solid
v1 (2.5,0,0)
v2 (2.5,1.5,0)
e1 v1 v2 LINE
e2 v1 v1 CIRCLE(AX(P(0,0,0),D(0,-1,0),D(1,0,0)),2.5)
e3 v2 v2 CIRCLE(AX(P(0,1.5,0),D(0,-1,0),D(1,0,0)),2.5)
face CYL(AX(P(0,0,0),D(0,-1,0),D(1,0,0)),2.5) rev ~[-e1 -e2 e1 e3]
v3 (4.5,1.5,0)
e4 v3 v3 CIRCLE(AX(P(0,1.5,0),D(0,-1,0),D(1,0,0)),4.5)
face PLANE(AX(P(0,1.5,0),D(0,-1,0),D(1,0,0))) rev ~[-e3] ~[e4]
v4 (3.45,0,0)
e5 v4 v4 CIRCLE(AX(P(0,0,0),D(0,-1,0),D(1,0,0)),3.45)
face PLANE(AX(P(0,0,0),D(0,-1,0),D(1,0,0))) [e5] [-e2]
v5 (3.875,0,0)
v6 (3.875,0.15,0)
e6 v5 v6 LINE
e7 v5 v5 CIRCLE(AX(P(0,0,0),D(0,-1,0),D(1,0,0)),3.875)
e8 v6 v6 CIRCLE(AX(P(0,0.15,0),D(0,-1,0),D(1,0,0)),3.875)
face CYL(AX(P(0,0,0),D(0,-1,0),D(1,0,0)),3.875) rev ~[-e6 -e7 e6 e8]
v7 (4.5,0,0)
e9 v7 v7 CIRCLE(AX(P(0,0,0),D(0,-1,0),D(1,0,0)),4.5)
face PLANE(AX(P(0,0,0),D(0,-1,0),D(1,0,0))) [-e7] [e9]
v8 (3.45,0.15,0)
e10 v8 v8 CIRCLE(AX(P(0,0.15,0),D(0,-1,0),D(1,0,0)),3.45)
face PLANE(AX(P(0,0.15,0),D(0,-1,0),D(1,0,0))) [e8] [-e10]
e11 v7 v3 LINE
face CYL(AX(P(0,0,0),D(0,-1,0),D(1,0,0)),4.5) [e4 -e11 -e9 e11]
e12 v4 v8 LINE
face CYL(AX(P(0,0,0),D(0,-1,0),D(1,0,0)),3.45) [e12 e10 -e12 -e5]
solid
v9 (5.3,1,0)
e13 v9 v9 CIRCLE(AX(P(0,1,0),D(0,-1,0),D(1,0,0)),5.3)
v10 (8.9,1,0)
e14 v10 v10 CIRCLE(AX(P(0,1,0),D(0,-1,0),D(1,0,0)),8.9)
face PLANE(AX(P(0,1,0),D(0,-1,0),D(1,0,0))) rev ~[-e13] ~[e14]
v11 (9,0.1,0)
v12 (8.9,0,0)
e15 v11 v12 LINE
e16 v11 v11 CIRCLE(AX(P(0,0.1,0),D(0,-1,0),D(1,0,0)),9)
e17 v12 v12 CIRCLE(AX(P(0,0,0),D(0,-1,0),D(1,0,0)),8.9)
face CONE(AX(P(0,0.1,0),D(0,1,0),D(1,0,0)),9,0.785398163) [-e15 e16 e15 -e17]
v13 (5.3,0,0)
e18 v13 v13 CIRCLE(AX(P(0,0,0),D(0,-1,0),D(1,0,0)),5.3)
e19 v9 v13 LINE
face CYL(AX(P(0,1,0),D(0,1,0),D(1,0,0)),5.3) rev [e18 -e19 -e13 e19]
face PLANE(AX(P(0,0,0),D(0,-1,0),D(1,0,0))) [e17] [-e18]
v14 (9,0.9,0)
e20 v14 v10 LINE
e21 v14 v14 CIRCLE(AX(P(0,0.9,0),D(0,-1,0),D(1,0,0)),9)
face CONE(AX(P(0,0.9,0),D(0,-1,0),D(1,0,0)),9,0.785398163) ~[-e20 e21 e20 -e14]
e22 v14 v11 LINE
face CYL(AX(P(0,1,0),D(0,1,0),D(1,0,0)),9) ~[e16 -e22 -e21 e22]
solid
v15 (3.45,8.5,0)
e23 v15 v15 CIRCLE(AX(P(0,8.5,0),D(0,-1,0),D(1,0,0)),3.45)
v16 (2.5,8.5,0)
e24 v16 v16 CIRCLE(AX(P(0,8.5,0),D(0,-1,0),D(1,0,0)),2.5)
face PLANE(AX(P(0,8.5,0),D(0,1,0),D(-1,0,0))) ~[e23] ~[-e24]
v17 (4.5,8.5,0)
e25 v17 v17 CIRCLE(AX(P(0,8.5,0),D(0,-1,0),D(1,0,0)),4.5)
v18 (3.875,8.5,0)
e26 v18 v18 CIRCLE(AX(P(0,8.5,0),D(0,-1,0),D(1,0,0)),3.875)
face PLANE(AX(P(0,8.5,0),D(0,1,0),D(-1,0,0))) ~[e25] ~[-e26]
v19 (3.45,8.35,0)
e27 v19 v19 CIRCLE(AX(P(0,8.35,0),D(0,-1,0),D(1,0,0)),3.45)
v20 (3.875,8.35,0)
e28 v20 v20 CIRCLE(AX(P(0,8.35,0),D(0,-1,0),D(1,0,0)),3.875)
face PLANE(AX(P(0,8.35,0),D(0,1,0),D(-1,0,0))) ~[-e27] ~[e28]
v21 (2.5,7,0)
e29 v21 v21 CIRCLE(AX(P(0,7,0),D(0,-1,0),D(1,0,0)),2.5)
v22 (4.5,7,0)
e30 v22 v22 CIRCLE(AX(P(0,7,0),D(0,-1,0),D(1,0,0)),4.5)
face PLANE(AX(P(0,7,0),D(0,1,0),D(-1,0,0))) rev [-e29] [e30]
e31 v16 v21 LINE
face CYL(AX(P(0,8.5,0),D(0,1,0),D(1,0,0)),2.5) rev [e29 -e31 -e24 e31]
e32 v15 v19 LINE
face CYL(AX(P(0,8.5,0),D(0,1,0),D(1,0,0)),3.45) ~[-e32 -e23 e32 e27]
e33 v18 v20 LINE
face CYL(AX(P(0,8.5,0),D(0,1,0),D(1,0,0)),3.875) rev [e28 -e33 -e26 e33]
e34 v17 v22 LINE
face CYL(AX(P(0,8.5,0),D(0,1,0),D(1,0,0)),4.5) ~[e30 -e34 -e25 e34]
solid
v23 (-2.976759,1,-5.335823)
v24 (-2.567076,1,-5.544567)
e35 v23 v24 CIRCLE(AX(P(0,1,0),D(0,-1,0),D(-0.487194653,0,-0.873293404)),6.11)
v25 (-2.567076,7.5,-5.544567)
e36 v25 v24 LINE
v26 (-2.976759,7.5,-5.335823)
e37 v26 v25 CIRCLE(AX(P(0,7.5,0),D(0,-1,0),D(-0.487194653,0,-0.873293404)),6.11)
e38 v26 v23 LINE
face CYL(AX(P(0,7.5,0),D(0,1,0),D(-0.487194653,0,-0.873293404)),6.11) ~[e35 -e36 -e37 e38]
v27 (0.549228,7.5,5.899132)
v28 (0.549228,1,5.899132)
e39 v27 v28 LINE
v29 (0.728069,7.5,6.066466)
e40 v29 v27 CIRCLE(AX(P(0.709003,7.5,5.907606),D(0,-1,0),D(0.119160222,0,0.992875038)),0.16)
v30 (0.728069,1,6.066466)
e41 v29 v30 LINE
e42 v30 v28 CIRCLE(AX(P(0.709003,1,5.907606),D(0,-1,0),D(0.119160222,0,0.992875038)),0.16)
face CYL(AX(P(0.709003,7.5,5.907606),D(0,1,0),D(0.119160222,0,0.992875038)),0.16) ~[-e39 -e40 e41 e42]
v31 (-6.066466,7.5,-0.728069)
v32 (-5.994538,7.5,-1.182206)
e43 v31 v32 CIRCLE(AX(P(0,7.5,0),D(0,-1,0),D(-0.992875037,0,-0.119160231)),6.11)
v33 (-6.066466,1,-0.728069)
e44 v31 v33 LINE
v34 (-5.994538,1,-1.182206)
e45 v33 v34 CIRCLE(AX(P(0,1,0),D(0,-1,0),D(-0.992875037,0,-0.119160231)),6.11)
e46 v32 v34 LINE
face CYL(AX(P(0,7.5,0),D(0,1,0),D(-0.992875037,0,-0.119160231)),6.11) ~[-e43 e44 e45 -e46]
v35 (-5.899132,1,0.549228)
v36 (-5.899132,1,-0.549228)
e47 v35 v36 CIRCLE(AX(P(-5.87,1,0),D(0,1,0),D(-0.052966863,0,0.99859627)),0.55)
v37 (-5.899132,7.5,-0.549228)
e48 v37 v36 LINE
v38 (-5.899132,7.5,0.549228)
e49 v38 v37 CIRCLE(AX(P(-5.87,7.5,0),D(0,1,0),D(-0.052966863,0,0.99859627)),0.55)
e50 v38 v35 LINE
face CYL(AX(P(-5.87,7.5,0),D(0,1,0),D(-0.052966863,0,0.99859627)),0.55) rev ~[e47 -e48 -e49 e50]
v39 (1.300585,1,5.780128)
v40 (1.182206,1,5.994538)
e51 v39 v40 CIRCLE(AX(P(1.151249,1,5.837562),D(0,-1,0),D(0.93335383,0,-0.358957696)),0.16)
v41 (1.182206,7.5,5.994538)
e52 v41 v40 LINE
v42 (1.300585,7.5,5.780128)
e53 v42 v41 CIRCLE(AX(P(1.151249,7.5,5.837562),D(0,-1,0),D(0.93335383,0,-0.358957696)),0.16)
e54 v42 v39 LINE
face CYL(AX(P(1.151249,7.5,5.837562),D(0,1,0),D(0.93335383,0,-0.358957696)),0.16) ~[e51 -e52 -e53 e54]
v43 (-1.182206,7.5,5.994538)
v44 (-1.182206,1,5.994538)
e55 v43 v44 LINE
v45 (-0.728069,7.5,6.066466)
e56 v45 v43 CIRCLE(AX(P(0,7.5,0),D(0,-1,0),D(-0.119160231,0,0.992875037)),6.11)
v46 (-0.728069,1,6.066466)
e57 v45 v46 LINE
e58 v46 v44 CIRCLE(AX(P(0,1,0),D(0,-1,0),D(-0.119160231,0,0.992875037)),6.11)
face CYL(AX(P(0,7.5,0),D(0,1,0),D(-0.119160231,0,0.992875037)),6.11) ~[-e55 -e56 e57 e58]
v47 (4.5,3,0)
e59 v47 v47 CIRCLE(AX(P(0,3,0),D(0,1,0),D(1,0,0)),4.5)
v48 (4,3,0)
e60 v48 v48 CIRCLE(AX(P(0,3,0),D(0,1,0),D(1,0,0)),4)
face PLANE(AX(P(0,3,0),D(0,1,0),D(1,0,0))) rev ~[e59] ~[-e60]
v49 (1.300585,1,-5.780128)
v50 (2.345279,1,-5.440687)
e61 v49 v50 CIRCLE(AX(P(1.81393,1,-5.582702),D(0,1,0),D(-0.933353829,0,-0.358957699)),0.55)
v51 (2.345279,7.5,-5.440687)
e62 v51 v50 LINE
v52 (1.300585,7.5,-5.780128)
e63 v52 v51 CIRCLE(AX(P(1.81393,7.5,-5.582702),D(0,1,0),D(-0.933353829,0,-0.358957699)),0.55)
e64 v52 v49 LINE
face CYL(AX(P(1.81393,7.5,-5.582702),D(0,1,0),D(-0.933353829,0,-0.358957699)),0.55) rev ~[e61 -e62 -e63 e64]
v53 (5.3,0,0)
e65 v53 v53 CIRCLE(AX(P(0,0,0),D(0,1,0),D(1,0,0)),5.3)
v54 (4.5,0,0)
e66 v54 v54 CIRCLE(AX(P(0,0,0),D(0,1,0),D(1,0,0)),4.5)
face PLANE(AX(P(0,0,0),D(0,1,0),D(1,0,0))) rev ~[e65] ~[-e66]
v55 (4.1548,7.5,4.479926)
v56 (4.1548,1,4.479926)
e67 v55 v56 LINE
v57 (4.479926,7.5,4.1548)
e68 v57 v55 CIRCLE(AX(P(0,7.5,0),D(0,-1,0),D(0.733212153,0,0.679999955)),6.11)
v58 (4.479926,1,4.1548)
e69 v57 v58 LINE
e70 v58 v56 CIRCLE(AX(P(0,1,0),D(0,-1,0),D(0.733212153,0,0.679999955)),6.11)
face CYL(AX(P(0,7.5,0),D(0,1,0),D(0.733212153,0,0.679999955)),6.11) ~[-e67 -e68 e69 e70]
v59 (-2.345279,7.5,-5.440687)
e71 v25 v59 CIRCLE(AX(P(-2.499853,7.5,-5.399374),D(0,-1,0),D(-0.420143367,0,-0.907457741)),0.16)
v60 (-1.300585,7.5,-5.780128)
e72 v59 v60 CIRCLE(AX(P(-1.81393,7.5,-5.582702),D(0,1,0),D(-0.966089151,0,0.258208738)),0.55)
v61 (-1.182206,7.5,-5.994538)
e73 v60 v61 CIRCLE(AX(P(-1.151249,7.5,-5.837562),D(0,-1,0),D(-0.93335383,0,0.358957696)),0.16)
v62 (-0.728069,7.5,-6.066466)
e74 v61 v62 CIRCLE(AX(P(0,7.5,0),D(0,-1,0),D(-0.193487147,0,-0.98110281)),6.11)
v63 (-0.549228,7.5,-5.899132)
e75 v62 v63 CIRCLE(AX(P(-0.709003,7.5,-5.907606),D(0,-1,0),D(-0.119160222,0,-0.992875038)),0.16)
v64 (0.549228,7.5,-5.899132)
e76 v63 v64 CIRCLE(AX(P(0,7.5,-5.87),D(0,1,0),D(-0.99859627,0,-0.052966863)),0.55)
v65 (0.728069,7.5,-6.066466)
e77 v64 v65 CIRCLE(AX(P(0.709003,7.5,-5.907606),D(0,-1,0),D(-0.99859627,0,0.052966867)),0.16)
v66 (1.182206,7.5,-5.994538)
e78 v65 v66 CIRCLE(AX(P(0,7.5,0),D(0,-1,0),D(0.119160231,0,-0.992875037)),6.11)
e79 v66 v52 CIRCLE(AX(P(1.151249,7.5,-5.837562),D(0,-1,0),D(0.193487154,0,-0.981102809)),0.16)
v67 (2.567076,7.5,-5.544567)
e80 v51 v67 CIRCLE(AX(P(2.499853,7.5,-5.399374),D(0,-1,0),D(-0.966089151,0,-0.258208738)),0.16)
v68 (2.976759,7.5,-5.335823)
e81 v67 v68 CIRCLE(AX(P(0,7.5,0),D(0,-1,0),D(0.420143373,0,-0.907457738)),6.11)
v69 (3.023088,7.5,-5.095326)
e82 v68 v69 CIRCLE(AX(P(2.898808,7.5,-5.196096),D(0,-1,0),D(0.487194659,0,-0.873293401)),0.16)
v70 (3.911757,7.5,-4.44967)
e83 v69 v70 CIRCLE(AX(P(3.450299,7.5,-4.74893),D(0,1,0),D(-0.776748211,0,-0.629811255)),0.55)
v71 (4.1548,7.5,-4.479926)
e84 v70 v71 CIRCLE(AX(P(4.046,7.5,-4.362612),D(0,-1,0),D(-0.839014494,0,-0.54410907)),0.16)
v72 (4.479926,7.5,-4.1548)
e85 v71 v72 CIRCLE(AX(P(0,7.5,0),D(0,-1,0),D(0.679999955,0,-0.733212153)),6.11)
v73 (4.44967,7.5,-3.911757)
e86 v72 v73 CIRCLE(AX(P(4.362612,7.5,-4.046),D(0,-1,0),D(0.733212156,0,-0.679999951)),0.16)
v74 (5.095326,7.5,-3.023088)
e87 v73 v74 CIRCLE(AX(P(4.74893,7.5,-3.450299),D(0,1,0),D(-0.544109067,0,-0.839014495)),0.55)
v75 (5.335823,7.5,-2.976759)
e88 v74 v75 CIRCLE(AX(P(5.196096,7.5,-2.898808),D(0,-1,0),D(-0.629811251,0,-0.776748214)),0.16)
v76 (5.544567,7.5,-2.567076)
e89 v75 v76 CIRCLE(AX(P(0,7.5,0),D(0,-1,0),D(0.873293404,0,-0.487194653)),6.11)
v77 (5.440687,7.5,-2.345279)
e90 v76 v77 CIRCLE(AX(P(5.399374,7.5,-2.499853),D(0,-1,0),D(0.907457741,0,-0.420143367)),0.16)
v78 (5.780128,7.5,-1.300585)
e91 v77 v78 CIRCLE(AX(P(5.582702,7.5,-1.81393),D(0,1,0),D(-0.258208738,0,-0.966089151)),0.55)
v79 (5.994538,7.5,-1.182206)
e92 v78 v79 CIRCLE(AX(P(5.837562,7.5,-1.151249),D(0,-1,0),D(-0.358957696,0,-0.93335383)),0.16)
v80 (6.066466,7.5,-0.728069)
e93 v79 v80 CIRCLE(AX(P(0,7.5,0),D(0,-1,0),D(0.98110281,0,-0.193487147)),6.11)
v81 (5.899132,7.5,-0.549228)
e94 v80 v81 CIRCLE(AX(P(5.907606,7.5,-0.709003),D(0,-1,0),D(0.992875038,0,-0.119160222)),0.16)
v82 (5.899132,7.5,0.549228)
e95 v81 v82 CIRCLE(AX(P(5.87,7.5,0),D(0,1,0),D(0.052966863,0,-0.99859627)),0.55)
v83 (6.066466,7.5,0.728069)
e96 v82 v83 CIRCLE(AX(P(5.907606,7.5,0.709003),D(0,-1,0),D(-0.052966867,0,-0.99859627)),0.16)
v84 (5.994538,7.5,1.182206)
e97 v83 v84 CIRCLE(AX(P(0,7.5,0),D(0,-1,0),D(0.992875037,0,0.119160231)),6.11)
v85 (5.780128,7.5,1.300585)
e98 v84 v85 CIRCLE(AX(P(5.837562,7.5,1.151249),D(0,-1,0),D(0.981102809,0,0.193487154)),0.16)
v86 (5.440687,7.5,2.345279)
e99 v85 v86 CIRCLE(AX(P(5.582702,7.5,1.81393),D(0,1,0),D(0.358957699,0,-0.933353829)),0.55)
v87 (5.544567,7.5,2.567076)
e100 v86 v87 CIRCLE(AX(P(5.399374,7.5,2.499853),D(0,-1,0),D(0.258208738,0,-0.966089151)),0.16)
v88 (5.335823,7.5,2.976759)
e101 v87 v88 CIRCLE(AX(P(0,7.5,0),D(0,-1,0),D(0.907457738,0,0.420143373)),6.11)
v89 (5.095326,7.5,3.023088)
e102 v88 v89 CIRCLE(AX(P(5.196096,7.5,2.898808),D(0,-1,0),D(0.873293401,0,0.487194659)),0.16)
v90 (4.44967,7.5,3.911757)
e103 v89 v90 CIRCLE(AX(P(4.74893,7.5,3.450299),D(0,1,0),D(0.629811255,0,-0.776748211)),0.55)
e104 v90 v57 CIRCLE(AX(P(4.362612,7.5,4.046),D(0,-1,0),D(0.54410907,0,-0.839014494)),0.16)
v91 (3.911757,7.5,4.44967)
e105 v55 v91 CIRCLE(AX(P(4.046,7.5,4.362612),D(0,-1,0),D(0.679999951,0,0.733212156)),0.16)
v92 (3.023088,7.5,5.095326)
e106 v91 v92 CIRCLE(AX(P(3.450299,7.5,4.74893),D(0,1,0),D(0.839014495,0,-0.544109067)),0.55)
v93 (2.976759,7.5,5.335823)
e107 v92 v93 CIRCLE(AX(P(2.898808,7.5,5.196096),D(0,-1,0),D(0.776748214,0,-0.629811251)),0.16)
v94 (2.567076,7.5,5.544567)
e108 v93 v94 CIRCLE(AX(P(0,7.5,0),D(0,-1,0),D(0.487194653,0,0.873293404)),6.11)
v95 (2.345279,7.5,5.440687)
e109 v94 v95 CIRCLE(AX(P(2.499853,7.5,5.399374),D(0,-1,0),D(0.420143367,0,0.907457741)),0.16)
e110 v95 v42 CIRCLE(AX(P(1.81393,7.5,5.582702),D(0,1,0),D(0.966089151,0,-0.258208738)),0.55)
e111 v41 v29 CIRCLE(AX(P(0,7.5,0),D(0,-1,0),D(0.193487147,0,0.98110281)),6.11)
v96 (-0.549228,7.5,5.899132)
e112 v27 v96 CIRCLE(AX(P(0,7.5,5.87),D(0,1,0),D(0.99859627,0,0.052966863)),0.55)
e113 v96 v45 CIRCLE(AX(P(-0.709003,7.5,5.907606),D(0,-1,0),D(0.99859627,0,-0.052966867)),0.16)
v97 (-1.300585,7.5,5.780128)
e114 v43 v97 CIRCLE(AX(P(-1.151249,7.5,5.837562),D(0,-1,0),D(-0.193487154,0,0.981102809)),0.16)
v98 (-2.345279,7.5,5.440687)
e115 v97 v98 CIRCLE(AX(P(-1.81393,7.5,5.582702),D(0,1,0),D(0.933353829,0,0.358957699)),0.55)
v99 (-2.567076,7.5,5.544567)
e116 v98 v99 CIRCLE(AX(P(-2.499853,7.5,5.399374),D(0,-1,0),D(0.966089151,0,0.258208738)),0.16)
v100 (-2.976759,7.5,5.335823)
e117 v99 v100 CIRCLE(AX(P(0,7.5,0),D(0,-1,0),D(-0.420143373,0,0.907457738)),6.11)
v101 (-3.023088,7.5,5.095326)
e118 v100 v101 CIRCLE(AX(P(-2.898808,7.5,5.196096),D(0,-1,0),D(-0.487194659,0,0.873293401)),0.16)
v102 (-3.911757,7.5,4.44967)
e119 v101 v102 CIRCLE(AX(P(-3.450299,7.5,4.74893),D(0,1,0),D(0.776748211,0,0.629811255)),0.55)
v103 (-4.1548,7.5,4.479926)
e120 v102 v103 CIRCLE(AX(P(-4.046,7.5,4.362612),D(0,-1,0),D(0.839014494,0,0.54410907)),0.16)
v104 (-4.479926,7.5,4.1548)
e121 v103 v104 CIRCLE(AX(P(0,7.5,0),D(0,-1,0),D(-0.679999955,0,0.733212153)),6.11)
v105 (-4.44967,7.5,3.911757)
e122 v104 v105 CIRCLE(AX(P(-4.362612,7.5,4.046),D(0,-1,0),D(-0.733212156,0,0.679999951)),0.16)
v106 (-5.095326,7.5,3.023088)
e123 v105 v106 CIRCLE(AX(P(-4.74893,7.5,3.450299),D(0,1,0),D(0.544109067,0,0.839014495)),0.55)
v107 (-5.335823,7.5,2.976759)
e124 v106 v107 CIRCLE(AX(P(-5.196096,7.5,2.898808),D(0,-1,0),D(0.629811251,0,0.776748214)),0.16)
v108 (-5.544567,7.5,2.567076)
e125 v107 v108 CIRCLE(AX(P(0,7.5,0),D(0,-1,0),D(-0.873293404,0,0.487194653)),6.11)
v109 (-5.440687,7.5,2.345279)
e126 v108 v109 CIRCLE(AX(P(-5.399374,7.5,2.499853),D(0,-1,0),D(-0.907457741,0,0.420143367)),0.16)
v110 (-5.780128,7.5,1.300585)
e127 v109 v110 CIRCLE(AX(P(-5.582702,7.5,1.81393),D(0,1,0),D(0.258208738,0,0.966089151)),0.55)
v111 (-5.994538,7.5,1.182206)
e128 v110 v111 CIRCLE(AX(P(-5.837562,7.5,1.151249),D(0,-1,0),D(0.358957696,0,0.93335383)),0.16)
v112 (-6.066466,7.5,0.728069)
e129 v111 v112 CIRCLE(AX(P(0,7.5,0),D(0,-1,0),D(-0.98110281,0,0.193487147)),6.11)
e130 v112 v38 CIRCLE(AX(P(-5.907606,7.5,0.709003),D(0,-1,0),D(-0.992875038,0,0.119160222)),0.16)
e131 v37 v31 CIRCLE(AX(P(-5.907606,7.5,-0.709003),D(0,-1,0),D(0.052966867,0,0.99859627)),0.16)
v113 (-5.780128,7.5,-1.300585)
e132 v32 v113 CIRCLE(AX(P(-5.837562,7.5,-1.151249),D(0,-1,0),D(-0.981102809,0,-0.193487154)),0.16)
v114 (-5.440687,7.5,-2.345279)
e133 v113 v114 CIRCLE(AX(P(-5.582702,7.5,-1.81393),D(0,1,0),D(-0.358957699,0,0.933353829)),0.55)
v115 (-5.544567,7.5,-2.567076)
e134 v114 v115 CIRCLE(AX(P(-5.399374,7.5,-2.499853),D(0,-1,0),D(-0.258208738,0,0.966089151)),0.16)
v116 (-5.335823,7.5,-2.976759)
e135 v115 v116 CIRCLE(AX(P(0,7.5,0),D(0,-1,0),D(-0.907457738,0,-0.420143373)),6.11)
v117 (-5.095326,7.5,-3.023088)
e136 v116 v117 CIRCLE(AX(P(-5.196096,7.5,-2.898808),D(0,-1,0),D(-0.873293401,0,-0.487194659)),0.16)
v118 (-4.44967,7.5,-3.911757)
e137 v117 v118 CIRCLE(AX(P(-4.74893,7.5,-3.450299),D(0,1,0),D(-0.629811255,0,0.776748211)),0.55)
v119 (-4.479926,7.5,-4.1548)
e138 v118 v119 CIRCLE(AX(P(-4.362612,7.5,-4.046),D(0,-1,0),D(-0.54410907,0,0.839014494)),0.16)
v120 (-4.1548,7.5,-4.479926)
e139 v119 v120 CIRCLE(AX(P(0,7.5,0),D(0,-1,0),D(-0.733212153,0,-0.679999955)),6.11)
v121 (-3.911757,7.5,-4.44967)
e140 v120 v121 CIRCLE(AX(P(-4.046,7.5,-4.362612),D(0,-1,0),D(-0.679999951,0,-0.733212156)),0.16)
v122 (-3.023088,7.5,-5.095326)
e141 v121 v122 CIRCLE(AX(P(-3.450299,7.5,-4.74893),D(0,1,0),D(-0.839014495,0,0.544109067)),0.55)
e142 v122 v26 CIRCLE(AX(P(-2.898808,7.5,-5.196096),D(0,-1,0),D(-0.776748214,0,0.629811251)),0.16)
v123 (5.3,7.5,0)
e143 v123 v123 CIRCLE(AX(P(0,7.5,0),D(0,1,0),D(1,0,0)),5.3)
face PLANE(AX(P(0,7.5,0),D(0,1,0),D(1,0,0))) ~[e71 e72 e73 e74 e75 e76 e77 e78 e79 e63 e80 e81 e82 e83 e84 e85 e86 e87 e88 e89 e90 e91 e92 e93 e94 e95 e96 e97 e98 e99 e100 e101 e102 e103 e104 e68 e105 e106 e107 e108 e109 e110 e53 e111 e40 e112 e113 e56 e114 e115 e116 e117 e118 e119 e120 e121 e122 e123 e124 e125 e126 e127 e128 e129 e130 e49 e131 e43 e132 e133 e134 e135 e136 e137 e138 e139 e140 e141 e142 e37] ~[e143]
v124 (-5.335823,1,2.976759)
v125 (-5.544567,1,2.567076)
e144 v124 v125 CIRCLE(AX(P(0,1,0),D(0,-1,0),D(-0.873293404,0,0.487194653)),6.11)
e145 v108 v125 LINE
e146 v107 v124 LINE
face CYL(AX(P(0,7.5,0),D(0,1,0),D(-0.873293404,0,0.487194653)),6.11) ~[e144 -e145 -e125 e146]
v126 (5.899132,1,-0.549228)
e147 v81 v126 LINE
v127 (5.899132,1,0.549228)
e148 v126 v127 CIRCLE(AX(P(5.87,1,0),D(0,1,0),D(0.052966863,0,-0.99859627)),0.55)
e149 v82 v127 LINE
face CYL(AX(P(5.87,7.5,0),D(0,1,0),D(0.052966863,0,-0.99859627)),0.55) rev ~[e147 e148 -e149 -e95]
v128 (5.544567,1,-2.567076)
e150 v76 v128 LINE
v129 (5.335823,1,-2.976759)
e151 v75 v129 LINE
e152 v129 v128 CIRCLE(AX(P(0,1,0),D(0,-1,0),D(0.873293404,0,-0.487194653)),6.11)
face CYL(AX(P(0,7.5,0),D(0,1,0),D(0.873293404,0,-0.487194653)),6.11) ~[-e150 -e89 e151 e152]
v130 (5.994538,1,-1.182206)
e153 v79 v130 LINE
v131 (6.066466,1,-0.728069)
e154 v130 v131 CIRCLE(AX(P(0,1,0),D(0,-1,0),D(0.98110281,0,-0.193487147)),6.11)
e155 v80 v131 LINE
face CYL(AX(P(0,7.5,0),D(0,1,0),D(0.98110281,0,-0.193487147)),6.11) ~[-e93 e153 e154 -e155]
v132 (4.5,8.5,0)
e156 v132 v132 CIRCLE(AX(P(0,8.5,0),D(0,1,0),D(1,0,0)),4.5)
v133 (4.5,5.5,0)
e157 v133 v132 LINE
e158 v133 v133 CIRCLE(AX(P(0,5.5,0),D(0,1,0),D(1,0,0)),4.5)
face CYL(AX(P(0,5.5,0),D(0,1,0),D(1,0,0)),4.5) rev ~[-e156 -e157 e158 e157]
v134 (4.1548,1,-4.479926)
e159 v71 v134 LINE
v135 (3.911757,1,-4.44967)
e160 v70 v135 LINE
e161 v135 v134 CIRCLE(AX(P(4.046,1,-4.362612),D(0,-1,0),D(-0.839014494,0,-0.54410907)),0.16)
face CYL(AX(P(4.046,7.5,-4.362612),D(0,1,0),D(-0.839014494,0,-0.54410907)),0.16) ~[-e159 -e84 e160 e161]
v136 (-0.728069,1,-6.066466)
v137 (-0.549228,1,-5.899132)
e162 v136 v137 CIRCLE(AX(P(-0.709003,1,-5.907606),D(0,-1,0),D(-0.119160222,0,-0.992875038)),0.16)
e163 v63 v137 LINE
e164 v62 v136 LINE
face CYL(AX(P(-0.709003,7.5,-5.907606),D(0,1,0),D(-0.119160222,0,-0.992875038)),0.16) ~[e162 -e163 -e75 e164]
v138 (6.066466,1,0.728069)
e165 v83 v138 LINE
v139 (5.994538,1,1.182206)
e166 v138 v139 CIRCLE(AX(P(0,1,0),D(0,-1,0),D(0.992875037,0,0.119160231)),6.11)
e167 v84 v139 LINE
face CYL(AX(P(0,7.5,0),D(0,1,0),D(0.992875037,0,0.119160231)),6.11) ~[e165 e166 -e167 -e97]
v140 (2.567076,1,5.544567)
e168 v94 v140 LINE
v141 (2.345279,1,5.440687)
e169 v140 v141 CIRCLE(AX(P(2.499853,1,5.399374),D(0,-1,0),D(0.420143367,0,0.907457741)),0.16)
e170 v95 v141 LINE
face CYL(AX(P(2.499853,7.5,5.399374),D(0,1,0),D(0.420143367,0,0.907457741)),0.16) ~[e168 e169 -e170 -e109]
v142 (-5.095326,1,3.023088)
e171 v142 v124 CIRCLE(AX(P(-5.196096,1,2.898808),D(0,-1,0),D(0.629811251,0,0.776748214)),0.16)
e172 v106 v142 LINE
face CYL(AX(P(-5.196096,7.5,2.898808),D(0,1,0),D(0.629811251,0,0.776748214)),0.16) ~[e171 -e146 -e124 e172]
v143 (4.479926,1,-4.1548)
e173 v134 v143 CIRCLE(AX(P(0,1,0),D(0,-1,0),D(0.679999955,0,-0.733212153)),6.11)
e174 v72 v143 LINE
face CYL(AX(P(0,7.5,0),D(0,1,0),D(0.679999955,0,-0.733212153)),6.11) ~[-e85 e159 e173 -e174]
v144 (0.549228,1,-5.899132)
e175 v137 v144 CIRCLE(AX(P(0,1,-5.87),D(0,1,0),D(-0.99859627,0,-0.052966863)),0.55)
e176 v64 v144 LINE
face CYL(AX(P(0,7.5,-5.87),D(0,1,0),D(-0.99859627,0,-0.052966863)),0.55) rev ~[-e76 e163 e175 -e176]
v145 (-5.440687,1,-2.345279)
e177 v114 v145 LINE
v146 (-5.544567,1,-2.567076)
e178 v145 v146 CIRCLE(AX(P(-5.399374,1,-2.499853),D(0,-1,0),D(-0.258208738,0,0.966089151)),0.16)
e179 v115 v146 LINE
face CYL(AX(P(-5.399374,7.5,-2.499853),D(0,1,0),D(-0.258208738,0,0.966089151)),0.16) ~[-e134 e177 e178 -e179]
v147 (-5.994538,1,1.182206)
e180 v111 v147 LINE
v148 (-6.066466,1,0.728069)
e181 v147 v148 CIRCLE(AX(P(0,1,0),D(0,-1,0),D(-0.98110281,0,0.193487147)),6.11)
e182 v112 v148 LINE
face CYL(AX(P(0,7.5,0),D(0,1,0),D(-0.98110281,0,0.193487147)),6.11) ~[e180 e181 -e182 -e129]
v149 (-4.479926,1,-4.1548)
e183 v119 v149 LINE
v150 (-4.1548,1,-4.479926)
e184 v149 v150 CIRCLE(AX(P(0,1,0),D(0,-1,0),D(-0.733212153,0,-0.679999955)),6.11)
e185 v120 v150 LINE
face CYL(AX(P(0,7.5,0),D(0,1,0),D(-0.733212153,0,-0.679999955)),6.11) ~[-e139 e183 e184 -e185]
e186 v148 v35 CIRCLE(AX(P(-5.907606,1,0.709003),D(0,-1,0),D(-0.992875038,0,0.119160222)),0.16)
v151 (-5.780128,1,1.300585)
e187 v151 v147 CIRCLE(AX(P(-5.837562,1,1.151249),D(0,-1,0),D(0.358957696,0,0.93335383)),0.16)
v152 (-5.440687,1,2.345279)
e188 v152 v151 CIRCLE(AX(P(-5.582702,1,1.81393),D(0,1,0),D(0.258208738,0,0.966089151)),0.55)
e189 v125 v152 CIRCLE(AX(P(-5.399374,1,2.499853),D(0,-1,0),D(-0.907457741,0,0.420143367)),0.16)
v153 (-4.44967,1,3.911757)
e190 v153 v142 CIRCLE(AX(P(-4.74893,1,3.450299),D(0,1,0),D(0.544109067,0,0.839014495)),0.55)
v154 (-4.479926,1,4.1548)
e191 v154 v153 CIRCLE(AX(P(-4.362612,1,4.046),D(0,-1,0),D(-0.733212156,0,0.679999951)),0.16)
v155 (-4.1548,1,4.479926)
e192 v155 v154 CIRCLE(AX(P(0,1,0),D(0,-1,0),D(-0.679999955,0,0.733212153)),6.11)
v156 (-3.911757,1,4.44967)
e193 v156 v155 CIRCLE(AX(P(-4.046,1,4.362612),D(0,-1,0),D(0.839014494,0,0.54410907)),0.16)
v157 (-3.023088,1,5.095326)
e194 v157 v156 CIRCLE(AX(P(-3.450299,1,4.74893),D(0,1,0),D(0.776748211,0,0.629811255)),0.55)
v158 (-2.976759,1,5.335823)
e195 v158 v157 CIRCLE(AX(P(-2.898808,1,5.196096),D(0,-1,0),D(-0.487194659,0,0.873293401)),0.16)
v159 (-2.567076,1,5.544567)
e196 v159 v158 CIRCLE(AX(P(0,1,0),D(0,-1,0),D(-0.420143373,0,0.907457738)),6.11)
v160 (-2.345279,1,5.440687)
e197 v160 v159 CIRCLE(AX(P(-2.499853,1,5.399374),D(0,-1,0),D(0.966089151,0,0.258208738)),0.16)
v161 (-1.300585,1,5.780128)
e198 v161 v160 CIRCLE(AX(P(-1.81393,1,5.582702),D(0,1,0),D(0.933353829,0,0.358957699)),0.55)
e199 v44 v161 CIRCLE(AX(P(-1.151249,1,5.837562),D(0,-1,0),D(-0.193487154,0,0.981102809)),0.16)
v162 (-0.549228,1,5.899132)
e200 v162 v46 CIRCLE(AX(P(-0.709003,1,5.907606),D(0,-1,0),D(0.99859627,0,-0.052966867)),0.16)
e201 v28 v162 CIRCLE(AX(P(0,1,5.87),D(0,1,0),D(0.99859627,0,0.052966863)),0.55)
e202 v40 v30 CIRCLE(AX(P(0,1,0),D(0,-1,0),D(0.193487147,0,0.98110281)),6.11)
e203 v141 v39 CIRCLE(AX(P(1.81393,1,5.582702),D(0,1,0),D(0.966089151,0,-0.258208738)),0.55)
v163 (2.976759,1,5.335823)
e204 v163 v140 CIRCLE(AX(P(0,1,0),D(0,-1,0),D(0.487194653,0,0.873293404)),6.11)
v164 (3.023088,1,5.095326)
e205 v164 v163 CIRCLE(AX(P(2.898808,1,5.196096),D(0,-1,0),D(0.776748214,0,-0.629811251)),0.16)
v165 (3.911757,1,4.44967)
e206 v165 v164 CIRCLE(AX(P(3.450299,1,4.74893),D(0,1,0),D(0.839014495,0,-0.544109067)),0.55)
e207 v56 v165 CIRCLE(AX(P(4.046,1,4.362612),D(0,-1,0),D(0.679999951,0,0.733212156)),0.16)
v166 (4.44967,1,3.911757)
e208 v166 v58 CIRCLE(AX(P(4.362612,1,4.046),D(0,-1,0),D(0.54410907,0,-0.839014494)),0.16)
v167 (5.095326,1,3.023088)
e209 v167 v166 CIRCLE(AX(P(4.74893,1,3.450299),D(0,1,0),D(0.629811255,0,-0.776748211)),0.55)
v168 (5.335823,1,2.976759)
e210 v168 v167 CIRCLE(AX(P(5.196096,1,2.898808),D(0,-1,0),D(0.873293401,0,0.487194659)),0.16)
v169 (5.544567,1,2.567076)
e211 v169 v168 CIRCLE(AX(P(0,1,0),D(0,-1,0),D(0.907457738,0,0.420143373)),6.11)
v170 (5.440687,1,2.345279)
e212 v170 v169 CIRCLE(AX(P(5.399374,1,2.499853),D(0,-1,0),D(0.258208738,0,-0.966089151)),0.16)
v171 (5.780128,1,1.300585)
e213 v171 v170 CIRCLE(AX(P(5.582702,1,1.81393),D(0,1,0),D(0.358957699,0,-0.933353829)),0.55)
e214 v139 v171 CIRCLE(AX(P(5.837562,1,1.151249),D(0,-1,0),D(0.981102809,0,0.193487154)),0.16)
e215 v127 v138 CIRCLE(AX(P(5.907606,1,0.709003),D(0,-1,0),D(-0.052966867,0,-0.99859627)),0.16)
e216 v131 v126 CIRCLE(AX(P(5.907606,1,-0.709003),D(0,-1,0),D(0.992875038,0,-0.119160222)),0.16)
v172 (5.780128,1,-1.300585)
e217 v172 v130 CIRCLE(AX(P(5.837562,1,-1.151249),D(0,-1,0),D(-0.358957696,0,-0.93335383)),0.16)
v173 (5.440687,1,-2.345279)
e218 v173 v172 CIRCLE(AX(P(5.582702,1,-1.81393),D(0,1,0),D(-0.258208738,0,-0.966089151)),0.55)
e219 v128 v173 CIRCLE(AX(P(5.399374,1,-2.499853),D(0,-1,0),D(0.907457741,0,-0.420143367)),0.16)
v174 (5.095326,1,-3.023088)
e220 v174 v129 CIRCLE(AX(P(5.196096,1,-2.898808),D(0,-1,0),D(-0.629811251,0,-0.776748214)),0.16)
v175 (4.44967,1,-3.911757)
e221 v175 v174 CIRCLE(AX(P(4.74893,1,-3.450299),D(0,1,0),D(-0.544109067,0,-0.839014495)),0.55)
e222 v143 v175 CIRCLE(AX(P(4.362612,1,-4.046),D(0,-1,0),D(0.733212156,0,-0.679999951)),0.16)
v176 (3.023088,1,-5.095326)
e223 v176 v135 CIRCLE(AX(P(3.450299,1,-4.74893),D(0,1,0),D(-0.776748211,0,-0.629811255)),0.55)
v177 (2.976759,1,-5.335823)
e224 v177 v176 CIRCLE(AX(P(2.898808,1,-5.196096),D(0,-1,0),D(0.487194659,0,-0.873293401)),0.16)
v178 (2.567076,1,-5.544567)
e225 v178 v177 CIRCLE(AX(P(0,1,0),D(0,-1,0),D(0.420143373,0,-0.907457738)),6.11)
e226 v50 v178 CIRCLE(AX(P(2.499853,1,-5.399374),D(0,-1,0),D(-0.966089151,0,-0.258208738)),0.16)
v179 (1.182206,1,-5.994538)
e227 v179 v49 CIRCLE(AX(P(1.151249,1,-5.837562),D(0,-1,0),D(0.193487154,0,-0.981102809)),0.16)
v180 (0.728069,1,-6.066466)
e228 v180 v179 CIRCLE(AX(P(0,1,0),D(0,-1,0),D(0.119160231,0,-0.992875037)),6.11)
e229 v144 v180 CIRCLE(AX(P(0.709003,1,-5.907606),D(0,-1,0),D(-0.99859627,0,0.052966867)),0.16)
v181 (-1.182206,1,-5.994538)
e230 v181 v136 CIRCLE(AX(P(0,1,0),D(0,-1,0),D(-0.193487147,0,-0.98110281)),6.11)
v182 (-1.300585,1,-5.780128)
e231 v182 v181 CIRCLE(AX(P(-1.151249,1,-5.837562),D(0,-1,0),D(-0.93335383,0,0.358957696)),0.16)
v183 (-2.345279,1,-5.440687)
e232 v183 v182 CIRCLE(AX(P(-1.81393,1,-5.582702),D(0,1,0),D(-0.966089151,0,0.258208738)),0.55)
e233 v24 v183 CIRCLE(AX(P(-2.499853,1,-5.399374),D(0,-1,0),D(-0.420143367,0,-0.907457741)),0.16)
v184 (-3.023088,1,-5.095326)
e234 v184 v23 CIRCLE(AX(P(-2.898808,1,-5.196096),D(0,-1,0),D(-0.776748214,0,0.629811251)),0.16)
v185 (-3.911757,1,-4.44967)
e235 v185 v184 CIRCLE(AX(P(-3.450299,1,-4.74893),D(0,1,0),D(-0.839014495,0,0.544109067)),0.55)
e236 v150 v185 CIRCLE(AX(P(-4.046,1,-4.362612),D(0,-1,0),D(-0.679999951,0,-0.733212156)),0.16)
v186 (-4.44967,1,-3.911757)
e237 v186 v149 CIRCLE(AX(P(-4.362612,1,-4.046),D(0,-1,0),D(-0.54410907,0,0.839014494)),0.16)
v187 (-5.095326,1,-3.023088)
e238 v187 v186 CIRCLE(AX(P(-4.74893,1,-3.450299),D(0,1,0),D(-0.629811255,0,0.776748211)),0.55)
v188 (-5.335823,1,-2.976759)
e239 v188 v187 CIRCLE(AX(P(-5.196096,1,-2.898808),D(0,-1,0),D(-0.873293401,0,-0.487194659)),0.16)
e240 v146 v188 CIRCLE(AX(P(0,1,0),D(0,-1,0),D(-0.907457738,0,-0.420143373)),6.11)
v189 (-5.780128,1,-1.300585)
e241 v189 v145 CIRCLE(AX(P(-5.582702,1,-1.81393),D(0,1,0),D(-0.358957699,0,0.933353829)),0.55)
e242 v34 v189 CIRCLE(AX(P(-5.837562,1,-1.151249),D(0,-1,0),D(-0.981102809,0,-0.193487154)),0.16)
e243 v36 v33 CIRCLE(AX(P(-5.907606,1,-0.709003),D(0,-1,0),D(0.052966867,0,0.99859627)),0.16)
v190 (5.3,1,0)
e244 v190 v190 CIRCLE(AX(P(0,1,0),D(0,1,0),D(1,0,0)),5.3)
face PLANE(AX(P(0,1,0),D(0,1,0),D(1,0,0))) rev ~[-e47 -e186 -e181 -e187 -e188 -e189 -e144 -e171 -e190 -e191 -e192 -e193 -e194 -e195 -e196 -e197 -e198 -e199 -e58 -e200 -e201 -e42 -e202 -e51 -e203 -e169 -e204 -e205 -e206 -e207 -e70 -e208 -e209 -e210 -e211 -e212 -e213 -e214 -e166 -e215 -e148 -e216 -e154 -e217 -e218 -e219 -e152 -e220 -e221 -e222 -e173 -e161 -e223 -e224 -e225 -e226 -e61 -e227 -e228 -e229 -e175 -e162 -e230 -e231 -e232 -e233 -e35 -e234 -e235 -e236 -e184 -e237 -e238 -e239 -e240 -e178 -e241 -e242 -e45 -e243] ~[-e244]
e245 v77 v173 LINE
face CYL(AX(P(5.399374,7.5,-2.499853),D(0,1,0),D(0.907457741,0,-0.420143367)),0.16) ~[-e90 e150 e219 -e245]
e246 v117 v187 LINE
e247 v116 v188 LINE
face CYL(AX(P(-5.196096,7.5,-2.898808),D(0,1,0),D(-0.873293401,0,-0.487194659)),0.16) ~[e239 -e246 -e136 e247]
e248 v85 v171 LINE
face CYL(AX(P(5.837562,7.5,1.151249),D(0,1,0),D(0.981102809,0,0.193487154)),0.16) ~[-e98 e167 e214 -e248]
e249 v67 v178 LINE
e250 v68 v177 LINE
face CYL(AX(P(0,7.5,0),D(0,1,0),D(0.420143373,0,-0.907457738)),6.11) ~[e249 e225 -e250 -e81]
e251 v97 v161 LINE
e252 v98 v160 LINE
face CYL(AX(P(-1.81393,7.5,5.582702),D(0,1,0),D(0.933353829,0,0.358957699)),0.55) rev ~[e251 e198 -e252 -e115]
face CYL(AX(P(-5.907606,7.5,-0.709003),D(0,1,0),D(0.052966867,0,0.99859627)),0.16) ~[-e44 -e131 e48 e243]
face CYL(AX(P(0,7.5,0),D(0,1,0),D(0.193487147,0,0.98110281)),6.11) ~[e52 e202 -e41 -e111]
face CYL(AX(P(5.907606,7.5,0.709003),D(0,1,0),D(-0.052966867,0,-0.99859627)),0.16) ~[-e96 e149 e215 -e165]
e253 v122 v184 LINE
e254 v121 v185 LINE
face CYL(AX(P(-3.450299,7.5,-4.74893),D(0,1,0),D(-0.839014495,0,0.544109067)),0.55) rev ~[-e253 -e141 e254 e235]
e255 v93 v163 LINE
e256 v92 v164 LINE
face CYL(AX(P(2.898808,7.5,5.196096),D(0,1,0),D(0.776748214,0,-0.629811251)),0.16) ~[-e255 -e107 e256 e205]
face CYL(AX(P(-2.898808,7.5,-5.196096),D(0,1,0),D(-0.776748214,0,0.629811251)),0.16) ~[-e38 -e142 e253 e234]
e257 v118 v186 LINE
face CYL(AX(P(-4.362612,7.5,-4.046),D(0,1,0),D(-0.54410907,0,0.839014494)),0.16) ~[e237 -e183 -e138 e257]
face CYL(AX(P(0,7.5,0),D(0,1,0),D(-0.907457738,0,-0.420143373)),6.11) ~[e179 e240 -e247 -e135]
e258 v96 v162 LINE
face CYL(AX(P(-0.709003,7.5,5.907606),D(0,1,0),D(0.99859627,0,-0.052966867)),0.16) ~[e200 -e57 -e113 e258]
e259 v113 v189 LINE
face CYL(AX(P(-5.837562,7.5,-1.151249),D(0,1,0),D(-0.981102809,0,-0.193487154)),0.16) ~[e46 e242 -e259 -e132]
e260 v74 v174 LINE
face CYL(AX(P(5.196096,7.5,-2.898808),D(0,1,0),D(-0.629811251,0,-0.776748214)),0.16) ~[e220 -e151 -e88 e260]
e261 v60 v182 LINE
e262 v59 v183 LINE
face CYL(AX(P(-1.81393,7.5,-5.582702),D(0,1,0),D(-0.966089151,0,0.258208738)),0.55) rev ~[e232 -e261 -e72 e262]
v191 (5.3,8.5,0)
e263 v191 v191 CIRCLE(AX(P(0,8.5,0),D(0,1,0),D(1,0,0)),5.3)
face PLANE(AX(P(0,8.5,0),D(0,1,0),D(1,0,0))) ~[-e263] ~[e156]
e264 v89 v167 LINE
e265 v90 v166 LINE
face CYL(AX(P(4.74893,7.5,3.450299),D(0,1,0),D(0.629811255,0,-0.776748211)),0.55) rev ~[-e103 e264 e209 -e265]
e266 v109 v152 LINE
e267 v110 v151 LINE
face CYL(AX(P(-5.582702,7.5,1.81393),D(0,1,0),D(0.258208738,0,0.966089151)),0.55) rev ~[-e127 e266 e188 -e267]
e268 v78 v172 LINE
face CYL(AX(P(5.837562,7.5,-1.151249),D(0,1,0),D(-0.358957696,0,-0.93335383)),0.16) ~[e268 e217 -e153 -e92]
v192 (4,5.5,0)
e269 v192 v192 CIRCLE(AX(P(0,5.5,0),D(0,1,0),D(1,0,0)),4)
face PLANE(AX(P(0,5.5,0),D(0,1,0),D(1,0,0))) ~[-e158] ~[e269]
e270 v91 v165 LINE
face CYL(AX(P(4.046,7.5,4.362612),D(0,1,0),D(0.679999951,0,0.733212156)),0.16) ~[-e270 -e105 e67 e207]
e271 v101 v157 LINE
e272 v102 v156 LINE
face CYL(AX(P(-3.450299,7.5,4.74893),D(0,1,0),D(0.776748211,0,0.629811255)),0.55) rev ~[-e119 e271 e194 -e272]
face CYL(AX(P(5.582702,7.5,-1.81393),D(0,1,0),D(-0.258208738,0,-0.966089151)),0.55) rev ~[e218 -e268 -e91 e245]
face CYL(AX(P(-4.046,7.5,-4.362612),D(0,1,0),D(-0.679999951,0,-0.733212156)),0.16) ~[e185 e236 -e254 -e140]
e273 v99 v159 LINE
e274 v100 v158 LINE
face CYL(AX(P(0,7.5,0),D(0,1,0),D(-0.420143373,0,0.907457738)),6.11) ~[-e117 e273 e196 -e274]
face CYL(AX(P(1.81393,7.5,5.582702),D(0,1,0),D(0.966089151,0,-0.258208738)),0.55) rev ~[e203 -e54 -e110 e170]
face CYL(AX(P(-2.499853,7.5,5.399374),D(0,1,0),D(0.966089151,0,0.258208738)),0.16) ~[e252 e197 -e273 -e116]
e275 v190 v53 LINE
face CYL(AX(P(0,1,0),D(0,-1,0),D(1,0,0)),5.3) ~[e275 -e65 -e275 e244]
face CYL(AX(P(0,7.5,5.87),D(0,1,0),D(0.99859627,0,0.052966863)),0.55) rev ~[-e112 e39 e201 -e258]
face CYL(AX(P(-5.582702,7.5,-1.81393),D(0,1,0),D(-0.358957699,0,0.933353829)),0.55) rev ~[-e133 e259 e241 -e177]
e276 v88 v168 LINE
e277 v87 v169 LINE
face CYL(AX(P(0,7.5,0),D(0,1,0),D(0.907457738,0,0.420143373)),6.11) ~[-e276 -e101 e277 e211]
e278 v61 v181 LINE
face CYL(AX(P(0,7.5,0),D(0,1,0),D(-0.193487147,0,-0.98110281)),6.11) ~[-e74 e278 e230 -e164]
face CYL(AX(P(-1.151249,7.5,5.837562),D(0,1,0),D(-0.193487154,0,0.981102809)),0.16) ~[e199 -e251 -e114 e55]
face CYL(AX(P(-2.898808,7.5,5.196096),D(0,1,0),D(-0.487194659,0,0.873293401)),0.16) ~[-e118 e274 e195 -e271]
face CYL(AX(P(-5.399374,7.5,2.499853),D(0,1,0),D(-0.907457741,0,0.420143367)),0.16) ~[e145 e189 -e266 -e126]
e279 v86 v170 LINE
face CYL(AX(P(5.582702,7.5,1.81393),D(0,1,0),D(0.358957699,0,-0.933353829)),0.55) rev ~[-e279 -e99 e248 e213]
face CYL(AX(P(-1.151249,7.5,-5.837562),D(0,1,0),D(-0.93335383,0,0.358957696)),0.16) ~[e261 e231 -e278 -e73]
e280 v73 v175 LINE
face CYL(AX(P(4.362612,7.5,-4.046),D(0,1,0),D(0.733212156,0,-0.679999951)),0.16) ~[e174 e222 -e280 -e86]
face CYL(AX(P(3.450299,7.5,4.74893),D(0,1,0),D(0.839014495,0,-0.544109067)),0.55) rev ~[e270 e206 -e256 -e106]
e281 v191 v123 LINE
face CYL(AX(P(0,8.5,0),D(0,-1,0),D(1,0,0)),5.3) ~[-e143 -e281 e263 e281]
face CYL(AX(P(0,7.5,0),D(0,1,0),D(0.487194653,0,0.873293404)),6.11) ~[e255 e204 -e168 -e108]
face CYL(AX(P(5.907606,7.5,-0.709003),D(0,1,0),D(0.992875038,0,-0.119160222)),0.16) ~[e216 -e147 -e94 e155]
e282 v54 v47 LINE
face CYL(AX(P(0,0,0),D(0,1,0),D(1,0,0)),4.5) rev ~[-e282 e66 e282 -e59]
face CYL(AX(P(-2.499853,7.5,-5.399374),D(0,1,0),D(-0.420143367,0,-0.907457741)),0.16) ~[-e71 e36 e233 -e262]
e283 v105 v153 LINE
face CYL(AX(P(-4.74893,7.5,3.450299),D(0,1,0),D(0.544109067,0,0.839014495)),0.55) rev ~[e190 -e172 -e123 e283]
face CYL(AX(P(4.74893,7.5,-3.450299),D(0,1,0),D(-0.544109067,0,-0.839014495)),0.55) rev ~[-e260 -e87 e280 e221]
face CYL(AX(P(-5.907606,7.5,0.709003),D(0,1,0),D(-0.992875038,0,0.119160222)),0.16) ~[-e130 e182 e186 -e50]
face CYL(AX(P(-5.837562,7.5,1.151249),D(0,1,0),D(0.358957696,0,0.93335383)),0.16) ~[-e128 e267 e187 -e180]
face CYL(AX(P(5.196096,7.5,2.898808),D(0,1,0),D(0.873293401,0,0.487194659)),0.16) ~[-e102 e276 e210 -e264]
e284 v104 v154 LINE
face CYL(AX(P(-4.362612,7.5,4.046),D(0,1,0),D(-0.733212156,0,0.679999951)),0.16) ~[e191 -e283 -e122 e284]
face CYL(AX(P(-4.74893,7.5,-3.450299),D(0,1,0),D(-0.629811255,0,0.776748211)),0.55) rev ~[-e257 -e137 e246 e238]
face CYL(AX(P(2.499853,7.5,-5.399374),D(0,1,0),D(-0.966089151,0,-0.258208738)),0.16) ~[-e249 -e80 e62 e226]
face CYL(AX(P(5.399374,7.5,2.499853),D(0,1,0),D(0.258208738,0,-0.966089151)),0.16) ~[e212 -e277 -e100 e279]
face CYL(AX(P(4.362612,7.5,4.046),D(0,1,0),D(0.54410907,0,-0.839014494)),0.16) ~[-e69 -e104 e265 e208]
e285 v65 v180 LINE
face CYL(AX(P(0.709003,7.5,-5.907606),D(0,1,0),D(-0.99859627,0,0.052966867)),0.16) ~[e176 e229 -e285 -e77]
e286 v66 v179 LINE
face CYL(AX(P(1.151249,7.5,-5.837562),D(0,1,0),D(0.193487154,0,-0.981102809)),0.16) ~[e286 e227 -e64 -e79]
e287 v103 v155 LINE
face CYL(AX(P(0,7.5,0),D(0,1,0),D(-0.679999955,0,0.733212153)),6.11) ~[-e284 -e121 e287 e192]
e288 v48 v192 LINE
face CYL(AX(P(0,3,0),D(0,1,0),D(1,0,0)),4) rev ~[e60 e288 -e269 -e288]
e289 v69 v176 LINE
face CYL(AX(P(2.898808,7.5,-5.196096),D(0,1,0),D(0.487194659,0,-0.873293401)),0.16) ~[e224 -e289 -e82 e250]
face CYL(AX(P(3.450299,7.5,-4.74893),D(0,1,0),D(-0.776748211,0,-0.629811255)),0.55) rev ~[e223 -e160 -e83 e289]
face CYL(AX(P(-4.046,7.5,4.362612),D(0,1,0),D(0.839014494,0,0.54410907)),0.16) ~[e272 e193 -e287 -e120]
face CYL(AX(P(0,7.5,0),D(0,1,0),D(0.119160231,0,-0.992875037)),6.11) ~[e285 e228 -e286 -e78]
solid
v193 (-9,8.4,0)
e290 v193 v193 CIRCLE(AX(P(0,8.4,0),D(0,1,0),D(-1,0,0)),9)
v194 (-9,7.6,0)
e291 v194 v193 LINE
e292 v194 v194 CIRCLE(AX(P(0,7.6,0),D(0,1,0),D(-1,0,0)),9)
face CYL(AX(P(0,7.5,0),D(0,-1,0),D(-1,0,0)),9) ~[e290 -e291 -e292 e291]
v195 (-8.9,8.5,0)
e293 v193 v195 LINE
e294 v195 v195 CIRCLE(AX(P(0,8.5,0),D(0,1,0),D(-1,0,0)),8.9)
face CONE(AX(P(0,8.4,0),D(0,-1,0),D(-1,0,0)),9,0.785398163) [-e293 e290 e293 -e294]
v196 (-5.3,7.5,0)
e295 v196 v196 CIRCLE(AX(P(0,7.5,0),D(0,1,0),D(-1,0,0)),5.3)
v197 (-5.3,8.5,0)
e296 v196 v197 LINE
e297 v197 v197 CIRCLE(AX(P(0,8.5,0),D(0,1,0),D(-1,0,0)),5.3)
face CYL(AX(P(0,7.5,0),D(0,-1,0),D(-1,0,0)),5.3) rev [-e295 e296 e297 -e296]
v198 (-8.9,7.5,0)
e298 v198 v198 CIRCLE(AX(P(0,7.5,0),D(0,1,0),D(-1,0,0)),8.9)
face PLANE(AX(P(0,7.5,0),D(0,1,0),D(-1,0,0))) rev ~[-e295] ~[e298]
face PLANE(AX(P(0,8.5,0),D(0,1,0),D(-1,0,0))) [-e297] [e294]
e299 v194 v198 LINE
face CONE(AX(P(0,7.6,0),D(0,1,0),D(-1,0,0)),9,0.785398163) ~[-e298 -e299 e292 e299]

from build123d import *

# Parameters (mm, degrees)
SKICA2_R                 = 9
ODEBRAT_VYSUNUT_M1_DEPTH = 6.5
SKICA3_R                 = 9
SKICA3_R_2               = 5.3
P_IDAT_VYSUNUT_M1_DEPTH  = 1
SKICA5_R                 = 9
SKICA5_R_2               = 5.3
P_IDAT_VYSUNUT_M2_DEPTH  = 1
ZKOSEN_1_SIZE            = 0.1
ZKOSEN_2_SIZE            = 0.1
SKETCH1_R                = 4.5
SKETCH1_R_2              = 2.5
BOSS_EXTRUDE1_DEPTH      = 1.5
SKETCH3_R                = 3.875
SKETCH3_R_2              = 3.45
CUT_EXTRUDE1_DEPTH       = 0.15


with BuildPart() as part:
    # Skica1 → Rotovat1 (revolve)
    with BuildSketch(Plane.XY):
        Polygon((4.5, 8.5), (5.3, 8.5), (5.3, 7.5), (9, 7.5), (9, 1), (5.3, 1), (5.3, 0), (4.5, 0), (4.5, 3), (4, 3), (4, 5.5), (4.5, 5.5), align=None)
    revolve(axis=Axis((0, 0, 0), (0, 1, 0)))

    # Skica2 → Odebrat vysunutím1 (cut)
    with BuildSketch(Plane(origin=(0, 7.5, 0), x_dir=(1, 0, 0), z_dir=(0, 1, 0))):
        Circle(SKICA2_R)
        with BuildLine():
            ThreePointArc((-0.549227949, 5.899131775), (0, 5.32), (0.549227949, 5.899131775))
            ThreePointArc((0.549227949, 5.899131775), (0.599687134, 6.024439536), (0.728068988, 6.06646648))
            ThreePointArc((0.728068988, 6.06646648), (0.955814581, 6.034775761), (1.182206482, 5.994538167))
            ThreePointArc((1.182206482, 5.994538167), (1.291317841, 5.914895994), (1.300585151, 5.780128485))
            ThreePointArc((1.300585151, 5.780128485), (1.64397041, 5.059620667), (2.34527879, 5.440686945))
            ThreePointArc((2.34527879, 5.440686945), (2.431990555, 5.544268962), (2.567075994, 5.544566786))
            ThreePointArc((2.567075994, 5.544566786), (2.773881953, 5.444049863), (2.976759346, 5.335822692))
            ThreePointArc((2.976759346, 5.335822692), (3.05591963, 5.22636122), (3.023087915, 5.095325947))
            ThreePointArc((3.023087915, 5.095325947), (3.127017542, 4.30397041), (3.911757403, 4.44966977))
            ThreePointArc((3.911757403, 4.44966977), (4.026233796, 4.521386713), (4.154799715, 4.479926264))
            ThreePointArc((4.154799715, 4.479926264), (4.320422433, 4.320422433), (4.479926264, 4.154799715))
            ThreePointArc((4.479926264, 4.154799715), (4.521386713, 4.026233796), (4.44966977, 3.911757403))
            ThreePointArc((4.44966977, 3.911757403), (4.30397041, 3.127017542), (5.095325947, 3.023087915))
            ThreePointArc((5.095325947, 3.023087915), (5.22636122, 3.05591963), (5.335822692, 2.976759346))
            ThreePointArc((5.335822692, 2.976759346), (5.444049863, 2.773881953), (5.544566786, 2.567075994))
            ThreePointArc((5.544566786, 2.567075994), (5.544268962, 2.431990555), (5.440686945, 2.34527879))
            ThreePointArc((5.440686945, 2.34527879), (5.059620667, 1.64397041), (5.780128485, 1.300585151))
            ThreePointArc((5.780128485, 1.300585151), (5.914895994, 1.291317841), (5.994538167, 1.182206482))
            ThreePointArc((5.994538167, 1.182206482), (6.034775761, 0.955814581), (6.06646648, 0.728068988))
            ThreePointArc((6.06646648, 0.728068988), (6.024439536, 0.599687134), (5.899131775, 0.549227949))
            ThreePointArc((5.899131775, 0.549227949), (5.32, 0), (5.899131775, -0.549227949))
            ThreePointArc((5.899131775, -0.549227949), (6.024439536, -0.599687134), (6.06646648, -0.728068988))
            ThreePointArc((6.06646648, -0.728068988), (6.034775761, -0.955814581), (5.994538167, -1.182206482))
            ThreePointArc((5.994538167, -1.182206482), (5.914895994, -1.291317841), (5.780128485, -1.300585151))
            ThreePointArc((5.780128485, -1.300585151), (5.059620667, -1.64397041), (5.440686945, -2.34527879))
            ThreePointArc((5.440686945, -2.34527879), (5.544268962, -2.431990555), (5.544566786, -2.567075994))
            ThreePointArc((5.544566786, -2.567075994), (5.444049863, -2.773881953), (5.335822692, -2.976759346))
            ThreePointArc((5.335822692, -2.976759346), (5.22636122, -3.05591963), (5.095325947, -3.023087915))
            ThreePointArc((5.095325947, -3.023087915), (4.30397041, -3.127017542), (4.44966977, -3.911757403))
            ThreePointArc((4.44966977, -3.911757403), (4.521386713, -4.026233796), (4.479926264, -4.154799715))
            ThreePointArc((4.479926264, -4.154799715), (4.320422433, -4.320422433), (4.154799715, -4.479926264))
            ThreePointArc((4.154799715, -4.479926264), (4.026233796, -4.521386713), (3.911757403, -4.44966977))
            ThreePointArc((3.911757403, -4.44966977), (3.127017542, -4.30397041), (3.023087915, -5.095325947))
            ThreePointArc((3.023087915, -5.095325947), (3.05591963, -5.22636122), (2.976759346, -5.335822692))
            ThreePointArc((2.976759346, -5.335822692), (2.773881953, -5.444049863), (2.567075994, -5.544566786))
            ThreePointArc((2.567075994, -5.544566786), (2.431990555, -5.544268962), (2.34527879, -5.440686945))
            ThreePointArc((2.34527879, -5.440686945), (1.64397041, -5.059620667), (1.300585151, -5.780128485))
            ThreePointArc((1.300585151, -5.780128485), (1.291317841, -5.914895994), (1.182206482, -5.994538167))
            ThreePointArc((1.182206482, -5.994538167), (0.955814581, -6.034775761), (0.728068988, -6.06646648))
            ThreePointArc((0.728068988, -6.06646648), (0.599687134, -6.024439536), (0.549227949, -5.899131775))
            ThreePointArc((0.549227949, -5.899131775), (0, -5.32), (-0.549227949, -5.899131775))
            ThreePointArc((-0.549227949, -5.899131775), (-0.599687134, -6.024439536), (-0.728068988, -6.06646648))
            ThreePointArc((-0.728068988, -6.06646648), (-0.955814581, -6.034775761), (-1.182206482, -5.994538167))
            ThreePointArc((-1.182206482, -5.994538167), (-1.291317841, -5.914895994), (-1.300585151, -5.780128485))
            ThreePointArc((-1.300585151, -5.780128485), (-1.64397041, -5.059620667), (-2.34527879, -5.440686945))
            ThreePointArc((-2.34527879, -5.440686945), (-2.431990555, -5.544268962), (-2.567075994, -5.544566786))
            ThreePointArc((-2.567075994, -5.544566786), (-2.773881953, -5.444049863), (-2.976759346, -5.335822692))
            ThreePointArc((-2.976759346, -5.335822692), (-3.05591963, -5.22636122), (-3.023087915, -5.095325947))
            ThreePointArc((-3.023087915, -5.095325947), (-3.127017542, -4.30397041), (-3.911757403, -4.44966977))
            ThreePointArc((-3.911757403, -4.44966977), (-4.026233796, -4.521386713), (-4.154799715, -4.479926264))
            ThreePointArc((-4.154799715, -4.479926264), (-4.320422433, -4.320422433), (-4.479926264, -4.154799715))
            ThreePointArc((-4.479926264, -4.154799715), (-4.521386713, -4.026233796), (-4.44966977, -3.911757403))
            ThreePointArc((-4.44966977, -3.911757403), (-4.30397041, -3.127017542), (-5.095325947, -3.023087915))
            ThreePointArc((-5.095325947, -3.023087915), (-5.22636122, -3.05591963), (-5.335822692, -2.976759346))
            ThreePointArc((-5.335822692, -2.976759346), (-5.444049863, -2.773881953), (-5.544566786, -2.567075994))
            ThreePointArc((-5.544566786, -2.567075994), (-5.544268962, -2.431990555), (-5.440686945, -2.34527879))
            ThreePointArc((-5.440686945, -2.34527879), (-5.059620667, -1.64397041), (-5.780128485, -1.300585151))
            ThreePointArc((-5.780128485, -1.300585151), (-5.914895994, -1.291317841), (-5.994538167, -1.182206482))
            ThreePointArc((-5.994538167, -1.182206482), (-6.034775761, -0.955814581), (-6.06646648, -0.728068988))
            ThreePointArc((-6.06646648, -0.728068988), (-6.024439536, -0.599687134), (-5.899131775, -0.549227949))
            ThreePointArc((-5.899131775, -0.549227949), (-5.32, 0), (-5.899131775, 0.549227949))
            ThreePointArc((-5.899131775, 0.549227949), (-6.024439536, 0.599687134), (-6.06646648, 0.728068988))
            ThreePointArc((-6.06646648, 0.728068988), (-6.034775761, 0.955814581), (-5.994538167, 1.182206482))
            ThreePointArc((-5.994538167, 1.182206482), (-5.914895994, 1.291317841), (-5.780128485, 1.300585151))
            ThreePointArc((-5.780128485, 1.300585151), (-5.059620667, 1.64397041), (-5.440686945, 2.34527879))
            ThreePointArc((-5.440686945, 2.34527879), (-5.544268962, 2.431990555), (-5.544566786, 2.567075994))
            ThreePointArc((-5.544566786, 2.567075994), (-5.444049863, 2.773881953), (-5.335822692, 2.976759346))
            ThreePointArc((-5.335822692, 2.976759346), (-5.22636122, 3.05591963), (-5.095325947, 3.023087915))
            ThreePointArc((-5.095325947, 3.023087915), (-4.30397041, 3.127017542), (-4.44966977, 3.911757403))
            ThreePointArc((-4.44966977, 3.911757403), (-4.521386713, 4.026233796), (-4.479926264, 4.154799715))
            ThreePointArc((-4.479926264, 4.154799715), (-4.320422433, 4.320422433), (-4.154799715, 4.479926264))
            ThreePointArc((-4.154799715, 4.479926264), (-4.026233796, 4.521386713), (-3.911757403, 4.44966977))
            ThreePointArc((-3.911757403, 4.44966977), (-3.127017542, 4.30397041), (-3.023087915, 5.095325947))
            ThreePointArc((-3.023087915, 5.095325947), (-3.05591963, 5.22636122), (-2.976759346, 5.335822692))
            ThreePointArc((-2.976759346, 5.335822692), (-2.773881953, 5.444049863), (-2.567075994, 5.544566786))
            ThreePointArc((-2.567075994, 5.544566786), (-2.431990555, 5.544268962), (-2.34527879, 5.440686945))
            ThreePointArc((-2.34527879, 5.440686945), (-1.64397041, 5.059620667), (-1.300585151, 5.780128485))
            ThreePointArc((-1.300585151, 5.780128485), (-1.291317841, 5.914895994), (-1.182206482, 5.994538167))
            ThreePointArc((-1.182206482, 5.994538167), (-0.955814581, 6.034775761), (-0.728068988, 6.06646648))
            ThreePointArc((-0.728068988, 6.06646648), (-0.599687134, 6.024439536), (-0.549227949, 5.899131775))
        make_face(mode=Mode.SUBTRACT)
    extrude(amount=-ODEBRAT_VYSUNUT_M1_DEPTH, mode=Mode.SUBTRACT)


with BuildPart() as body_2:
    # Skica3 → Přidat vysunutím1 (new body)
    with BuildSketch(Plane(origin=(0, 7.5, 0), x_dir=(1, 0, 0), z_dir=(0, 1, 0))):
        with Locations(Location((0, 0, 0), (0, 0, 180))):  # turned: the seam where the file's is
            Circle(SKICA3_R)
        with Locations(Location((0, 0, 0), (0, 0, 180))):  # turned: the seam where the file's is
            Circle(SKICA3_R_2, mode=Mode.SUBTRACT)
    extrude(amount=P_IDAT_VYSUNUT_M1_DEPTH)

    # Zkosení1
    zkosen_1_edges = [body_2.edges().sort_by_distance(p)[0] for p in [
        (9, 7.5, 0),
        (9, 8.5, 0),
    ]]
    chamfer(zkosen_1_edges, length=ZKOSEN_1_SIZE)


with BuildPart() as body_3:
    # Skica5 → Přidat vysunutím2 (new body)
    with BuildSketch(Plane.XZ.offset(-1)):
        Circle(SKICA5_R)
        Circle(SKICA5_R_2, mode=Mode.SUBTRACT)
    extrude(amount=P_IDAT_VYSUNUT_M2_DEPTH)

    # Zkosení2
    zkosen_2_edges = [body_3.edges().sort_by_distance(p)[0] for p in [
        (-9, 1, 0),
        (-9, 0, 0),
    ]]
    chamfer(zkosen_2_edges, length=ZKOSEN_2_SIZE)


with BuildPart() as body_4:
    # Sketch1 → Boss-Extrude1 (new body)
    with BuildSketch(Plane.XZ):
        Circle(SKETCH1_R)
        Circle(SKETCH1_R_2, mode=Mode.SUBTRACT)
    extrude(amount=-BOSS_EXTRUDE1_DEPTH)

    # Sketch3 → Cut-Extrude1 (cut)
    with BuildSketch(Plane.XZ):
        Circle(SKETCH3_R)
        Circle(SKETCH3_R_2, mode=Mode.SUBTRACT)
    extrude(amount=-CUT_EXTRUDE1_DEPTH, mode=Mode.SUBTRACT)


with BuildPart() as body_5:
    # Mirror3: mirrored copy
    add(body_4.part.mirror(Plane.ZX.offset(4.25)))


solid = Compound([part.part, body_2.part, body_3.part, body_4.part, body_5.part])
